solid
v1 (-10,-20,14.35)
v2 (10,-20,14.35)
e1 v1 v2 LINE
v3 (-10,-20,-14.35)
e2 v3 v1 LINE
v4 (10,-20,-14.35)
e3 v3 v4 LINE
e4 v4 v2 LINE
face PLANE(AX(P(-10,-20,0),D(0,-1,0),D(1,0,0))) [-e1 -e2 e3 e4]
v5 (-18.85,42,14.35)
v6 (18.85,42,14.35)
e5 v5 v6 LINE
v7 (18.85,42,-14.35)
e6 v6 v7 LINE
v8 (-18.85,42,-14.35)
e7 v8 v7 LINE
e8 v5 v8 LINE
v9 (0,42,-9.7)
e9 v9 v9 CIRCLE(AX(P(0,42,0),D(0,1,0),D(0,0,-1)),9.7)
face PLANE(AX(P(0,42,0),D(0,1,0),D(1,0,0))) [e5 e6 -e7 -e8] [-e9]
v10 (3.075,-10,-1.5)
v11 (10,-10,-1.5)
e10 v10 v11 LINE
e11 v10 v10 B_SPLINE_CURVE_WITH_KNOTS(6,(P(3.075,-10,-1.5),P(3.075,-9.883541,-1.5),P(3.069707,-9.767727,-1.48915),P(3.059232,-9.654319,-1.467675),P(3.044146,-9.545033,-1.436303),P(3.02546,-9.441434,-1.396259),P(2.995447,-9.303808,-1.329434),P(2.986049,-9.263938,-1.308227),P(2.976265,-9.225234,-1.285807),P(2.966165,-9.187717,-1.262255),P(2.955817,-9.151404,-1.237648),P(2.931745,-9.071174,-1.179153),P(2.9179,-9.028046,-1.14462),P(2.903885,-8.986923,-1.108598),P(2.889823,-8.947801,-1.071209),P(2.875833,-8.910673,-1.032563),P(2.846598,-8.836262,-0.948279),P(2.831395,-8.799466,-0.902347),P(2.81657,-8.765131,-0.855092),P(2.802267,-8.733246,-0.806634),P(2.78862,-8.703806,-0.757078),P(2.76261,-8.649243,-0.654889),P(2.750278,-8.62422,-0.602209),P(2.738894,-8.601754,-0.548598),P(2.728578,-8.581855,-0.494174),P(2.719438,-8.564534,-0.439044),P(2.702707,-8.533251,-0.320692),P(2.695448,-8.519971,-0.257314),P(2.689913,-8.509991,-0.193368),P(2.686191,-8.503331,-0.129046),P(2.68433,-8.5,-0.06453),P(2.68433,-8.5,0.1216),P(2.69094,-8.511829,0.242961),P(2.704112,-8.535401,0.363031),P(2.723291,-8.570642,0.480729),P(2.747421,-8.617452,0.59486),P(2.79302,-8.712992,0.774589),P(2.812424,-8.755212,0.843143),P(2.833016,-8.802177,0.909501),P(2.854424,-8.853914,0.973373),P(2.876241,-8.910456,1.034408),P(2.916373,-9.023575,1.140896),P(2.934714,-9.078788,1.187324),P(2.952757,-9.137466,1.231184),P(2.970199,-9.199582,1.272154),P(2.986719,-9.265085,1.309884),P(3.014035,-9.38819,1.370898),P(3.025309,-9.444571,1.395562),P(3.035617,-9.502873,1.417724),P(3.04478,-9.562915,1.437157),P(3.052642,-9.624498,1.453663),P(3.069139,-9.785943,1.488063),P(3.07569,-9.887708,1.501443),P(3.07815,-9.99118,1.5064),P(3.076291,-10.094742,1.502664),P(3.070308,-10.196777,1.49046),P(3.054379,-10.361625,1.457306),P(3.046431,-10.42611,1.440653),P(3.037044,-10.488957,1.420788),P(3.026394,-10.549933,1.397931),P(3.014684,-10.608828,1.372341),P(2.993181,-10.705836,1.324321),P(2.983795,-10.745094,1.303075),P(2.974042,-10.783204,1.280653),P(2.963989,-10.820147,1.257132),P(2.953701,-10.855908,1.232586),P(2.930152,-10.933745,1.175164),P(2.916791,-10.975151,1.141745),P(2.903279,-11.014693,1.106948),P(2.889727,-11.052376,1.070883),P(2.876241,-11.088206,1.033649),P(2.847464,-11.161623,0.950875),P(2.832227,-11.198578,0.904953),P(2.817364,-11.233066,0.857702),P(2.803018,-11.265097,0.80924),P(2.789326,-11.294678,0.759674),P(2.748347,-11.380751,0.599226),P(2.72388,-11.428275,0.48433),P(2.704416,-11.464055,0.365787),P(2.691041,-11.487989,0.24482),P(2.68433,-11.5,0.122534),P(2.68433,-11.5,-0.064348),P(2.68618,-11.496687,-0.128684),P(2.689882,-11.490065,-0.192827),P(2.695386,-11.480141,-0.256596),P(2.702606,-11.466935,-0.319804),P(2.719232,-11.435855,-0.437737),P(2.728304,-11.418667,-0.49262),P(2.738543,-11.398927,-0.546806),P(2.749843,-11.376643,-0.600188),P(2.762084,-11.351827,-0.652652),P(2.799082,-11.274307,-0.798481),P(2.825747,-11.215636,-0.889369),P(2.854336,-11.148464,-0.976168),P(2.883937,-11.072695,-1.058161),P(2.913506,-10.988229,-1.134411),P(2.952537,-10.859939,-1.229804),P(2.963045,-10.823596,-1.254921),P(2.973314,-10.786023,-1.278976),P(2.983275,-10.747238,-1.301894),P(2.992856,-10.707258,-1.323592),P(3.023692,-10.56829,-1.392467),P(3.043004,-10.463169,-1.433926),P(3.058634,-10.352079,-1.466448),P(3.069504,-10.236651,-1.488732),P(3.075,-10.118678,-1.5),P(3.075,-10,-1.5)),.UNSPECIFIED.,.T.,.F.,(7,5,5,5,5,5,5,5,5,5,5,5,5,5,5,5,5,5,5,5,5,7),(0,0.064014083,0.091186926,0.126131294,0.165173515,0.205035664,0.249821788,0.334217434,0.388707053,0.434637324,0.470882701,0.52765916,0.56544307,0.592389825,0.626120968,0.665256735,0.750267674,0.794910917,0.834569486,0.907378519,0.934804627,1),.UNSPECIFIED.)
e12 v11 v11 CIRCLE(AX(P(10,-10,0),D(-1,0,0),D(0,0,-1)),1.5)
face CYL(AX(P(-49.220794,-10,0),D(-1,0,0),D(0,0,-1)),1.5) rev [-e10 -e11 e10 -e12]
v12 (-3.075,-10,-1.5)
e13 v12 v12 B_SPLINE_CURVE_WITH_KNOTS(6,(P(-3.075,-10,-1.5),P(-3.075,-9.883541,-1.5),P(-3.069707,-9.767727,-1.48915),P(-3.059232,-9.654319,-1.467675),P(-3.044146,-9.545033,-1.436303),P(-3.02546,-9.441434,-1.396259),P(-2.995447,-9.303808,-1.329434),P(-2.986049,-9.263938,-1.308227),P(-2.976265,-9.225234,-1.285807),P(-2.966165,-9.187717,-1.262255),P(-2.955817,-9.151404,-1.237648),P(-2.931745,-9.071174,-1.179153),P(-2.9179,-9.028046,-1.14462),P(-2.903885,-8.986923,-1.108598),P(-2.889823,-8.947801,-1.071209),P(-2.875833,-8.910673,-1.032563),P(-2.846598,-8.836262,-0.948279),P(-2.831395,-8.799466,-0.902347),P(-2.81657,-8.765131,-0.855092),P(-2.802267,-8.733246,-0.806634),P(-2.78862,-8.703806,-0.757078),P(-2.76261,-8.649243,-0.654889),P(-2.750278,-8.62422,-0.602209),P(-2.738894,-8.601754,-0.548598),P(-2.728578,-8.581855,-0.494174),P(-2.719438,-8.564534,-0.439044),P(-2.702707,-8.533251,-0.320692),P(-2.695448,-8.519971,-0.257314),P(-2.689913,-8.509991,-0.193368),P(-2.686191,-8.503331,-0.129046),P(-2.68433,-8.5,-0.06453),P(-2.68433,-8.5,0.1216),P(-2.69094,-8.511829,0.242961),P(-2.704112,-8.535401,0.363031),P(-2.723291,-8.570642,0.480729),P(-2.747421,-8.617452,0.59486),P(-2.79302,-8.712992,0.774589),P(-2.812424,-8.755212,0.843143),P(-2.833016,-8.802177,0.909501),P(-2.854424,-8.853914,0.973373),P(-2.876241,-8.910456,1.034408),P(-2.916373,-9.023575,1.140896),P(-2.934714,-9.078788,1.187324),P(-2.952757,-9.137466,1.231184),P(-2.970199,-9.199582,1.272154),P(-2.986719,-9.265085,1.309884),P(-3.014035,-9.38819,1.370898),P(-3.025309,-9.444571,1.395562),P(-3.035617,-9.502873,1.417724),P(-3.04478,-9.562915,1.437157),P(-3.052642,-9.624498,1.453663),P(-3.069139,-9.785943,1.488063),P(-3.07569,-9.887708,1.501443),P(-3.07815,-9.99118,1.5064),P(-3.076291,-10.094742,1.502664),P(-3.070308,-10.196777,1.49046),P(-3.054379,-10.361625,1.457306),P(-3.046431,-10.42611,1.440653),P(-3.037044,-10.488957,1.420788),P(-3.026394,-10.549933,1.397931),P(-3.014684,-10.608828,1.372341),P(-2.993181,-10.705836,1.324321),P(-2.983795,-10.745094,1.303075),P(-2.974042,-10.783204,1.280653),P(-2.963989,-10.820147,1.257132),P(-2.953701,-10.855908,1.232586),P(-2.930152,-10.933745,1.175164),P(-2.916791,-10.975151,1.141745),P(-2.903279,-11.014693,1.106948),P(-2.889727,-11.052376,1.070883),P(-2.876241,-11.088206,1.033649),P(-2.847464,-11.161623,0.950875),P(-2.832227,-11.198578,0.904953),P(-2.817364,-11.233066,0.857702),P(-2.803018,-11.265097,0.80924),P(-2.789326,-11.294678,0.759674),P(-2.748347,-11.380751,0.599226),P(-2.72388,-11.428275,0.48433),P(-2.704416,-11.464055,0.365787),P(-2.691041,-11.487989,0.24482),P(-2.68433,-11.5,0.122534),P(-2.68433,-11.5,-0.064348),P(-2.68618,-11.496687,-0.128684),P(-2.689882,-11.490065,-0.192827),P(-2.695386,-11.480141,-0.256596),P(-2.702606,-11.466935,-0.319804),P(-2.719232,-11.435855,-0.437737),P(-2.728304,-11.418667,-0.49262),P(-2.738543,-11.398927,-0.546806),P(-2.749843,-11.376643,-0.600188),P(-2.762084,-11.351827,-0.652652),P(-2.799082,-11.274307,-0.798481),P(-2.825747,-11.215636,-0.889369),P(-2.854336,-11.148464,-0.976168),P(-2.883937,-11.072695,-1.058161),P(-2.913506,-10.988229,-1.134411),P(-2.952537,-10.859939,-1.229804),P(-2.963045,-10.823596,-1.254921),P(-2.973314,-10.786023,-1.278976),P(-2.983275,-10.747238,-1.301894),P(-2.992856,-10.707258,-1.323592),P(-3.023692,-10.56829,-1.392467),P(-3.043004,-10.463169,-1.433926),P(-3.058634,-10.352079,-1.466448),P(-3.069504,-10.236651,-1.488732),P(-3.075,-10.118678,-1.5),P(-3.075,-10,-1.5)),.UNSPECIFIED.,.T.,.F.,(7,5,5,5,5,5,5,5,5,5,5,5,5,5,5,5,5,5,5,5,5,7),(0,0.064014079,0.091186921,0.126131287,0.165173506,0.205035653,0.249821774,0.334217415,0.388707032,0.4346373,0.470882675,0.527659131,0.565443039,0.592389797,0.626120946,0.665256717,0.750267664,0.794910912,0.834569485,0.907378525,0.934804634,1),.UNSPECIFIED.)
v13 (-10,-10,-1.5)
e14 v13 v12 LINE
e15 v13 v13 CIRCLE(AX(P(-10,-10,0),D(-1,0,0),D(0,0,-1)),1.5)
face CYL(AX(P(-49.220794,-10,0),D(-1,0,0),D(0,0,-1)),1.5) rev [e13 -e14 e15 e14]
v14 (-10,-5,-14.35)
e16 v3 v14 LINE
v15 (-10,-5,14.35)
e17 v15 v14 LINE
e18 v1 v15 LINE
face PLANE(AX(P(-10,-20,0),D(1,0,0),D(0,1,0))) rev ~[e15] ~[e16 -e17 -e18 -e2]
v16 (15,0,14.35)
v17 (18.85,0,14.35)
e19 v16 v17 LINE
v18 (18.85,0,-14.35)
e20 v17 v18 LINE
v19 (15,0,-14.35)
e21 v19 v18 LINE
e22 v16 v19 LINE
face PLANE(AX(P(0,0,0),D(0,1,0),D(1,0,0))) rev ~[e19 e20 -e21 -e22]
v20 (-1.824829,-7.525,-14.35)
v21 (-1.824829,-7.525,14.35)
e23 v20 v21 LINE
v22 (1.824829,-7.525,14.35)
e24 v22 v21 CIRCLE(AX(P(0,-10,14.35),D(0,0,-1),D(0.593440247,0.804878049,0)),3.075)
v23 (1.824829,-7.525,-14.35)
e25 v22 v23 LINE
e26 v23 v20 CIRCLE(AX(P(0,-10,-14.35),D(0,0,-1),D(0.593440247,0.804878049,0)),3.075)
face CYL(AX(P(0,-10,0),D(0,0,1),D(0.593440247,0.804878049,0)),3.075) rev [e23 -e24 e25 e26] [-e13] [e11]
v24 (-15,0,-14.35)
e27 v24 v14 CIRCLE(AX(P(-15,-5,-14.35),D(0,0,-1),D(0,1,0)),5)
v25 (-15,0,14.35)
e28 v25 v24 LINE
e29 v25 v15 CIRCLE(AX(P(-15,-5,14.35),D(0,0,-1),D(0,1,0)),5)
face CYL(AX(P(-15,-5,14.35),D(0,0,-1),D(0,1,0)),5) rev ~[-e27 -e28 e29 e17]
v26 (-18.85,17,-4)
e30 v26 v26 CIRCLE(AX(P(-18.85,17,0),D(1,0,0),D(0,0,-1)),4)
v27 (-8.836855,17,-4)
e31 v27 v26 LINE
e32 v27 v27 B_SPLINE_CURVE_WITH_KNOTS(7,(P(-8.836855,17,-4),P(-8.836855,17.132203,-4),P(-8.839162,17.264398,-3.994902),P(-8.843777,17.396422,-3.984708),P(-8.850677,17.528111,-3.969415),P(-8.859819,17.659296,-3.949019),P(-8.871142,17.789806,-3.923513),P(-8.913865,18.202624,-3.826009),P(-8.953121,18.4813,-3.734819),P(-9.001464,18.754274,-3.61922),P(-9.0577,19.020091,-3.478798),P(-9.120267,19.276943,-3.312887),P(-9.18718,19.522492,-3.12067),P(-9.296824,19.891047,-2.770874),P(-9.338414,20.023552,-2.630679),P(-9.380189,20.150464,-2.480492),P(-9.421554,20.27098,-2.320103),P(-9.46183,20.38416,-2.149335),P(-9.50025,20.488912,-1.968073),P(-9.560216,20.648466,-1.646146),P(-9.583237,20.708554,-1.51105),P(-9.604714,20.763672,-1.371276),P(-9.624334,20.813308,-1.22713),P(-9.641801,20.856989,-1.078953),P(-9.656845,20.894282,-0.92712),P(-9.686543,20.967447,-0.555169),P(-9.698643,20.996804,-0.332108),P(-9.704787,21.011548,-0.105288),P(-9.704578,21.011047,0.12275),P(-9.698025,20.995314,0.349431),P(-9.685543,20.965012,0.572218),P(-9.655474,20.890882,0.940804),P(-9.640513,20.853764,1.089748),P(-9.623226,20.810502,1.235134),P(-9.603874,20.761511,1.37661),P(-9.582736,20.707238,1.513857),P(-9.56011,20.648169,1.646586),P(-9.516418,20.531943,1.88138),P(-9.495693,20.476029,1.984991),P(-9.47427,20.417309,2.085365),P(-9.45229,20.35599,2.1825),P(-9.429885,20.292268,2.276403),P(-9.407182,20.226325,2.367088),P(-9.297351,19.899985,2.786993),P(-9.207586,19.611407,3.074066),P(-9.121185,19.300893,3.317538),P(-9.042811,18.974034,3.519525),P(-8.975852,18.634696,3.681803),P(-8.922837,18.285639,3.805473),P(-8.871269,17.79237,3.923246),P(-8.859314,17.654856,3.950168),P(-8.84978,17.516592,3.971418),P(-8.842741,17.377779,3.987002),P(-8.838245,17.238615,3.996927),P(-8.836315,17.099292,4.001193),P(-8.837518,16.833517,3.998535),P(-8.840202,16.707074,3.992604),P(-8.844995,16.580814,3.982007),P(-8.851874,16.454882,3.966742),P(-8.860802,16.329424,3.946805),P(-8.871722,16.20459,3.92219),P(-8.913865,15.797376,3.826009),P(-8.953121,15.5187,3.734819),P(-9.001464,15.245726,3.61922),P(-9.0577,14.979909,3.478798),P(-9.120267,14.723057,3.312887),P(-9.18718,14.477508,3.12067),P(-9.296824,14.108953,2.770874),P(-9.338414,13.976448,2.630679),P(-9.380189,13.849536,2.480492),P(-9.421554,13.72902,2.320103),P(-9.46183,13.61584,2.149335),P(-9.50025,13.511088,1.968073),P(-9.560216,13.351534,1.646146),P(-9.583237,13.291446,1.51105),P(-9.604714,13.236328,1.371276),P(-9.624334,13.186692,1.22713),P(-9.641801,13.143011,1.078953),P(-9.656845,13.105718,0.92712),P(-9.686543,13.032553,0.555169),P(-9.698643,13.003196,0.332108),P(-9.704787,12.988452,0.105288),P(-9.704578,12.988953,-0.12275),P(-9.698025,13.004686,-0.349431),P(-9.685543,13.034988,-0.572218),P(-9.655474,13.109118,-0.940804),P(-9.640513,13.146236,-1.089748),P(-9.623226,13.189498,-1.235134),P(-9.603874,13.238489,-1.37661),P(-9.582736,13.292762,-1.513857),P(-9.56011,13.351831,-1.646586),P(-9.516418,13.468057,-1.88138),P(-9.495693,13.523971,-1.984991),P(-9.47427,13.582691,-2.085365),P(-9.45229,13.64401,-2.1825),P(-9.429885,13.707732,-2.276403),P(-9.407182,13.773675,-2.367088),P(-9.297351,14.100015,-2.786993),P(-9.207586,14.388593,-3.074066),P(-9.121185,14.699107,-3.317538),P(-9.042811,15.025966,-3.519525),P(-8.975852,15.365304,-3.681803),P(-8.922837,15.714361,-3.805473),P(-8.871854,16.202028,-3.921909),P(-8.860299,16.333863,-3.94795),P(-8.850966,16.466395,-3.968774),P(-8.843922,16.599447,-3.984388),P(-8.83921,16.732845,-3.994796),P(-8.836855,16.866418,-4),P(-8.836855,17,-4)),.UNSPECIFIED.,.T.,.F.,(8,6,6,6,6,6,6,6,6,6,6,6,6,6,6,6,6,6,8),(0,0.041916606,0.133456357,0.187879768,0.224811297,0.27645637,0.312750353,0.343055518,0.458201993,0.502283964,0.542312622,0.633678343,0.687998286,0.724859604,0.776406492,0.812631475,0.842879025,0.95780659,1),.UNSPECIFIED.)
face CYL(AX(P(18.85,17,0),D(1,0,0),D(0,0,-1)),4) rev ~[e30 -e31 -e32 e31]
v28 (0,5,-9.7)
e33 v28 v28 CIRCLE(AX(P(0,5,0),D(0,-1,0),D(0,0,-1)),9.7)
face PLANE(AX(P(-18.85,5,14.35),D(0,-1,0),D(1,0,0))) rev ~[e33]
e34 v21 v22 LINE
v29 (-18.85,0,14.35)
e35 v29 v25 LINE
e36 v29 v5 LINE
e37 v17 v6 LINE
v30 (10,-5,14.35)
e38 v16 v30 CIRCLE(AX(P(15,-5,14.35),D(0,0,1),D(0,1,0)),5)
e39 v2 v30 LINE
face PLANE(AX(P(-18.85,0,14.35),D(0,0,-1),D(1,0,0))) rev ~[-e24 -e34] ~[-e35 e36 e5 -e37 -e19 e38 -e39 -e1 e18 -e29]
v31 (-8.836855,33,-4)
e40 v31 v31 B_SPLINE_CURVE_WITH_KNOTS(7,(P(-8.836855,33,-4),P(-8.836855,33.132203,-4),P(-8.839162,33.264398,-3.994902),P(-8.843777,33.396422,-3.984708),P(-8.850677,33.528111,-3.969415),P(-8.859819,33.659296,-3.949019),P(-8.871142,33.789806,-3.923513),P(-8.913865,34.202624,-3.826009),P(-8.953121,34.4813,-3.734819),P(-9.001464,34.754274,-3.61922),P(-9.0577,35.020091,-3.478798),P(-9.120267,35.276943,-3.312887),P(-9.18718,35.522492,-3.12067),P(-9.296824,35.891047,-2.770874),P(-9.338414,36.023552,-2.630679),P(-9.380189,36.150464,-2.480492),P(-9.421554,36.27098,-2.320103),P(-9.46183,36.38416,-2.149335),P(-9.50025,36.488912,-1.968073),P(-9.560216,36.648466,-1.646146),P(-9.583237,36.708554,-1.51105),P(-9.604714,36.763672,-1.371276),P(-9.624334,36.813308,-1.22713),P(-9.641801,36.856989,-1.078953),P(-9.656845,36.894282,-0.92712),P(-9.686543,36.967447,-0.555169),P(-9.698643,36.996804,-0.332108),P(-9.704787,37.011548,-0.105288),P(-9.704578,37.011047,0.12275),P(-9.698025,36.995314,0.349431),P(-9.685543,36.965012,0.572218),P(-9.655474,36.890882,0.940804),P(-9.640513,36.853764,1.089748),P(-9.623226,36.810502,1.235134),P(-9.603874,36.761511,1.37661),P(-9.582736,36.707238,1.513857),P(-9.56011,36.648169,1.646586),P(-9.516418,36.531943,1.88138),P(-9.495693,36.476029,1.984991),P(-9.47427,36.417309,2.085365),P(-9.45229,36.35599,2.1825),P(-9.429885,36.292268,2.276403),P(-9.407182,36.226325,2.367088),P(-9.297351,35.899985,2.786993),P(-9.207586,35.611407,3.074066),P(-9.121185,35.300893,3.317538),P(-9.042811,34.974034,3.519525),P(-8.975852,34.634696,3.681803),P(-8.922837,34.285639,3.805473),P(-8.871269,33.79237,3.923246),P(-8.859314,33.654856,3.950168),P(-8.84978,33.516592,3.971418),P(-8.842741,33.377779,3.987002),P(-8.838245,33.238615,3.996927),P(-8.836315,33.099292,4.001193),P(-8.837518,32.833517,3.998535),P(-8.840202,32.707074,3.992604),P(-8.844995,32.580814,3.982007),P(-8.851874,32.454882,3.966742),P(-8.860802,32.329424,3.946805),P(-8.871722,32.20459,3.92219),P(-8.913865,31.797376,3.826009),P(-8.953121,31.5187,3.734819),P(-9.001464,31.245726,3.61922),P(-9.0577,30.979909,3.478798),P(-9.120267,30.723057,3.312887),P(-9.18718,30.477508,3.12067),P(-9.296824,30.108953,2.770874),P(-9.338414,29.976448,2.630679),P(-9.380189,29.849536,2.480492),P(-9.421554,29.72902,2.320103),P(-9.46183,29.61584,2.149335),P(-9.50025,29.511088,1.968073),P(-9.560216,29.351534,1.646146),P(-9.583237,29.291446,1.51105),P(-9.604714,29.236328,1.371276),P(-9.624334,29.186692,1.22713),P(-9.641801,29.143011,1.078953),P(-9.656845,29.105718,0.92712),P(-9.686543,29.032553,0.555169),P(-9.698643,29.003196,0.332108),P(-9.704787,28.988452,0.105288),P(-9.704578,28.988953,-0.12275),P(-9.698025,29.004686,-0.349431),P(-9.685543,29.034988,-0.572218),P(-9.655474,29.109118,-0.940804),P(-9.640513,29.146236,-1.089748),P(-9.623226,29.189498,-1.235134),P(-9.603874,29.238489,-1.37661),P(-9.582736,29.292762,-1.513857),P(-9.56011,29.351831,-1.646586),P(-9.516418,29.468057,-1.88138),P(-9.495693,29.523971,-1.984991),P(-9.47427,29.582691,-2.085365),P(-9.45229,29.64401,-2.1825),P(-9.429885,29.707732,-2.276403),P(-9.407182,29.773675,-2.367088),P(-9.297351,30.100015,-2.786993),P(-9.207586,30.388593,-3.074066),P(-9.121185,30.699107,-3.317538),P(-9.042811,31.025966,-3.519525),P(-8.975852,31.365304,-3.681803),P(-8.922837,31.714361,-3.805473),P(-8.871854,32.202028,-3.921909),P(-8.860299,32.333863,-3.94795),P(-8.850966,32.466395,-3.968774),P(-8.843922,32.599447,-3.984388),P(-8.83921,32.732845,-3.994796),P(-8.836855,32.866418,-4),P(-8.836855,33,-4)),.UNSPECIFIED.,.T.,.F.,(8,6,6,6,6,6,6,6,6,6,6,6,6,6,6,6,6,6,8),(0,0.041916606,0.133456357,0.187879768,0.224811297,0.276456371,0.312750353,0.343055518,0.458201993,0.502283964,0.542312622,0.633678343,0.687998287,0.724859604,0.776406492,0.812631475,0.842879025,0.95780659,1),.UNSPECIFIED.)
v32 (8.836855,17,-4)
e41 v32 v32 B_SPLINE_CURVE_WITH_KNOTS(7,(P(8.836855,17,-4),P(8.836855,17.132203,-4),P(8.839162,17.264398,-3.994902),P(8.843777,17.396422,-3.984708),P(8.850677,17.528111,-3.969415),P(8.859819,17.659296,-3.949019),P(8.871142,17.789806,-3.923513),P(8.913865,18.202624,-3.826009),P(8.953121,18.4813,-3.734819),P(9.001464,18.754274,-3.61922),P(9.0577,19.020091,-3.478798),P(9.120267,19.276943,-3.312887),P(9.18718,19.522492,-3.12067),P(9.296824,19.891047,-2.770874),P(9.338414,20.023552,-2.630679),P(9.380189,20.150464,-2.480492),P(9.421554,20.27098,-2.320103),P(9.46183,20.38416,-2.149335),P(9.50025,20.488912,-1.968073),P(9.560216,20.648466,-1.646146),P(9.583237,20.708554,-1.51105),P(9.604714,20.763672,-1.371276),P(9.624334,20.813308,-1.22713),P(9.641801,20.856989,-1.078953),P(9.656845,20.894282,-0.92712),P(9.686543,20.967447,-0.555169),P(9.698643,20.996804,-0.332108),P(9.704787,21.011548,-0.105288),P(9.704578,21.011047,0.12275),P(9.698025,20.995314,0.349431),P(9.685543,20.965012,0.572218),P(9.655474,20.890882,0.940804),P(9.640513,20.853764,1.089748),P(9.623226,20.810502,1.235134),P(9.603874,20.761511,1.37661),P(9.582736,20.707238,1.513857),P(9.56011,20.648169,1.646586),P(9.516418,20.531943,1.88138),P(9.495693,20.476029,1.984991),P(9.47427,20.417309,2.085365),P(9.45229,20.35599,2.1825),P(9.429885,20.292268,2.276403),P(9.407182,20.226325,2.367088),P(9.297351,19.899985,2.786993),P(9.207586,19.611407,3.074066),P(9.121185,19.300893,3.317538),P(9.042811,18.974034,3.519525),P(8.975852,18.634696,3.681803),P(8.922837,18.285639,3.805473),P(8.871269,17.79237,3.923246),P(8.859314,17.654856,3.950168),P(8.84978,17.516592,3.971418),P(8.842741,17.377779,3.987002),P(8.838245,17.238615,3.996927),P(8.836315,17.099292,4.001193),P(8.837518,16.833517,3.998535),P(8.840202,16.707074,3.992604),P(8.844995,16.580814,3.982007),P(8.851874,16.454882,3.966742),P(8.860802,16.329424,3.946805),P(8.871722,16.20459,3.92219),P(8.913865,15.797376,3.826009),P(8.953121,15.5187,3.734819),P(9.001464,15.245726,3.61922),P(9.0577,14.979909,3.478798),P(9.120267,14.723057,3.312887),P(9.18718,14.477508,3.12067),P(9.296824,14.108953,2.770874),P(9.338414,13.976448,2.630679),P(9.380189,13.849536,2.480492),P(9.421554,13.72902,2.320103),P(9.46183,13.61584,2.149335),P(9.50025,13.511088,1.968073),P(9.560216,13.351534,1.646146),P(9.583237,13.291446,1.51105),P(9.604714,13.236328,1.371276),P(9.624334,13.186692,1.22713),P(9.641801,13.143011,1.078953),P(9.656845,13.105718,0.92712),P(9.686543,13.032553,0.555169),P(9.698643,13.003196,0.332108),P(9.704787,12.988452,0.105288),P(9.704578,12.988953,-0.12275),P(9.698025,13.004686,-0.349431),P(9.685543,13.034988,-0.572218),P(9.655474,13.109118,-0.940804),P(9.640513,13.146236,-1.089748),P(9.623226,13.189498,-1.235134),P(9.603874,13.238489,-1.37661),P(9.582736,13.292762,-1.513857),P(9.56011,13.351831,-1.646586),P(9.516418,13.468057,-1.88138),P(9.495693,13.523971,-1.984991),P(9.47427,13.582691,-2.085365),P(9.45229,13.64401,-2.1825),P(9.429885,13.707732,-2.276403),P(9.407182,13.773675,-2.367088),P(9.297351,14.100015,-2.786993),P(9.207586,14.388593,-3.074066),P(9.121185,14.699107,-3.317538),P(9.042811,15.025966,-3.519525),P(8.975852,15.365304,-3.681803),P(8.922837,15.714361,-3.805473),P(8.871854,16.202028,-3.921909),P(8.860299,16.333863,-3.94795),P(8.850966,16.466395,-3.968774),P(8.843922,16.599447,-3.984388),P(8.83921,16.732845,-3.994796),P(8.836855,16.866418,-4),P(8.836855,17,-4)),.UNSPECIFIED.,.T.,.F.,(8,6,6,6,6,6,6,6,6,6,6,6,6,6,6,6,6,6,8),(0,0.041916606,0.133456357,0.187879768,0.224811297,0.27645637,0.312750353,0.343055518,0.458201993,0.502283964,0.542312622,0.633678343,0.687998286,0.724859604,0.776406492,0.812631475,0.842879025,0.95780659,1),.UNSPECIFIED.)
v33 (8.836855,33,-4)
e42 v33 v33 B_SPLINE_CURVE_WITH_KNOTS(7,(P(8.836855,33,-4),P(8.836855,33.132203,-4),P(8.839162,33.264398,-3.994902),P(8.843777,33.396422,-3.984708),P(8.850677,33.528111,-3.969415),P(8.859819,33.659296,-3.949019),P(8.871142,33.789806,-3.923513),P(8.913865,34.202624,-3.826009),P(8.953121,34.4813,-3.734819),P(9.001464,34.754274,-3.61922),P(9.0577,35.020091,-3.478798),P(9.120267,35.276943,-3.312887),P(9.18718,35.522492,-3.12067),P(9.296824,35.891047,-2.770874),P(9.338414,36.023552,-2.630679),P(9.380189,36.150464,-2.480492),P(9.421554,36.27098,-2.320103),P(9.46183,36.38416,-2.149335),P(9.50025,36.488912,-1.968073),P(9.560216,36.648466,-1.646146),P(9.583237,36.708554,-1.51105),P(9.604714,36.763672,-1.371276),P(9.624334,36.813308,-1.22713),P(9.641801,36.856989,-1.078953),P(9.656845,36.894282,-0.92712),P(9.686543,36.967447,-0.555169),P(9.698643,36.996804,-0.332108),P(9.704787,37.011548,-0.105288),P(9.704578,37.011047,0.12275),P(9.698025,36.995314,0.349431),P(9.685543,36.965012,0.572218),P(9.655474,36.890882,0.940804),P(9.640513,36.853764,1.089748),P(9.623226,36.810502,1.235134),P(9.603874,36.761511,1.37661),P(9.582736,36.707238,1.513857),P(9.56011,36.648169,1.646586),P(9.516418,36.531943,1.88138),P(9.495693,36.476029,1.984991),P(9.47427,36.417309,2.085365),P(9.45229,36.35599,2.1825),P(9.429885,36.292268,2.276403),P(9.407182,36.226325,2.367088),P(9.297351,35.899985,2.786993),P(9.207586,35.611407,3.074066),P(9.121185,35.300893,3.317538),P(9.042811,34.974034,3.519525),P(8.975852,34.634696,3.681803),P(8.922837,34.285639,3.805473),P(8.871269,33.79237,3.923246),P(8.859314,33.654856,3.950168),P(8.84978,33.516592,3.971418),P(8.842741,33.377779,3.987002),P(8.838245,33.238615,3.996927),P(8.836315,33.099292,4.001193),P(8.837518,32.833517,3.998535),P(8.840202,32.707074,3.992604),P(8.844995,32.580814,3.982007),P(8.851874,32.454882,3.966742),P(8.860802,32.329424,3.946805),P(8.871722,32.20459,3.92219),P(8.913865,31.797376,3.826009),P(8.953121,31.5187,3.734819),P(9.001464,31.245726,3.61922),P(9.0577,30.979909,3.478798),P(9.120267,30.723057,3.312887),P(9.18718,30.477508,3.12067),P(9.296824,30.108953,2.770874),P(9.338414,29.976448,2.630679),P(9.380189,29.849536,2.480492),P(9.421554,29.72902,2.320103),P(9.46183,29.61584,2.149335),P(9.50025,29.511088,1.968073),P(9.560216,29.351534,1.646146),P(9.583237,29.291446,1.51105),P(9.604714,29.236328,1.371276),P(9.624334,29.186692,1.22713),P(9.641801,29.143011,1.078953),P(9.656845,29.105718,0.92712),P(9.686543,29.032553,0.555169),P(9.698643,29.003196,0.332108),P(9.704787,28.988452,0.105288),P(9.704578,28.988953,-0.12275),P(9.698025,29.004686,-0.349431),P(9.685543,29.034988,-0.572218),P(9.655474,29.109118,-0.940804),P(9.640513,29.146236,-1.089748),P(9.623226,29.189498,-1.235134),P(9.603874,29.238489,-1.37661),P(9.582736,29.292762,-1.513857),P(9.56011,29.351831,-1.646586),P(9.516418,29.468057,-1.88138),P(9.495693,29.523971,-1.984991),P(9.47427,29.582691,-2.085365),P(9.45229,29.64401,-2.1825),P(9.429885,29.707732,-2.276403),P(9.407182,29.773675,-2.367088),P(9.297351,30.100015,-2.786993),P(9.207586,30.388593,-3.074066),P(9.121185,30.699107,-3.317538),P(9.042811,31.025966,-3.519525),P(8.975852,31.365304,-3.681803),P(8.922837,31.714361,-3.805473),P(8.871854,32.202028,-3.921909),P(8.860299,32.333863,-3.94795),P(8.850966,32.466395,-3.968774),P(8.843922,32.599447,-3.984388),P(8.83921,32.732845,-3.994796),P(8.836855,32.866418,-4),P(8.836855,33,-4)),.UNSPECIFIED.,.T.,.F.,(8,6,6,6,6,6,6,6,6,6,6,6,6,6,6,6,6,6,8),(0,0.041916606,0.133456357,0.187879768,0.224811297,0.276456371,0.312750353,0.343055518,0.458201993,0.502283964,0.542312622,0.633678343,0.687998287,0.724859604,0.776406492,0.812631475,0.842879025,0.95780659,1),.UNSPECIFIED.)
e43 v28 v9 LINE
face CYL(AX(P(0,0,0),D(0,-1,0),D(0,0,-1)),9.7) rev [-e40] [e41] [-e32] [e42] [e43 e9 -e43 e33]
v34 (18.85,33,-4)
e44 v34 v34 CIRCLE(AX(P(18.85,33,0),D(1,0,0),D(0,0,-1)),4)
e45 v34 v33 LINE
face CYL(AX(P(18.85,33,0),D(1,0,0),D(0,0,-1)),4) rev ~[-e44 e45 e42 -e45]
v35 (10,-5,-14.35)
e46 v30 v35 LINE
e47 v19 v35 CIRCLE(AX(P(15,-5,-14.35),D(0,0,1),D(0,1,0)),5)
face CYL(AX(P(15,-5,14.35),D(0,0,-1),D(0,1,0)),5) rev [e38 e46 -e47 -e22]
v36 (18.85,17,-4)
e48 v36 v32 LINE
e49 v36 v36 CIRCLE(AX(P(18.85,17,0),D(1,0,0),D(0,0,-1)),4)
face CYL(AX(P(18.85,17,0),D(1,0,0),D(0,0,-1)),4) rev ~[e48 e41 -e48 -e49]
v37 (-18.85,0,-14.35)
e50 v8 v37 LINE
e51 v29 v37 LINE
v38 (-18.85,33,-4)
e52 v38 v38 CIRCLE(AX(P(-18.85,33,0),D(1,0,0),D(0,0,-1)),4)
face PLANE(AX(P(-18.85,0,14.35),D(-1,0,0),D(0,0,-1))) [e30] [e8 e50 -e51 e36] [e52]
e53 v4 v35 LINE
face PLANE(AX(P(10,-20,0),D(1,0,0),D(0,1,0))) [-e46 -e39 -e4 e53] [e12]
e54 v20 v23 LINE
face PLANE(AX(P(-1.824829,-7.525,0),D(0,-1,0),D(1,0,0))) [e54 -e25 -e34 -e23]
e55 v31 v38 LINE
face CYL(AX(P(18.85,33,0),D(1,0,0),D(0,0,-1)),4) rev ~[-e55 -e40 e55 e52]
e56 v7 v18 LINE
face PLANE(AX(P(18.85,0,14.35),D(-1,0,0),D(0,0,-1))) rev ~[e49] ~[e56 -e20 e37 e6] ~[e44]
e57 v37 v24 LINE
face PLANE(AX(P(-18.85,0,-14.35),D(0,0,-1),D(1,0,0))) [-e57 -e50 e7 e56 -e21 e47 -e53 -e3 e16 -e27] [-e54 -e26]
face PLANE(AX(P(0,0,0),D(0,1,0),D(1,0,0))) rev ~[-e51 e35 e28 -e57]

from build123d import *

# Parameters (mm, degrees)
SKETCH11_W              = 37.7
SKETCH11_H              = 28.7
SKETCH11_R              = 9.7
BOSS_EXTRUDE1_DEPTH     = 42
BOSS_EXTRUDE3_REACH     = 56.25
SKETCH15_W              = 37.7
SKETCH15_H              = 5
SKETCH12_R              = 4
CUT_EXTRUDE1_DEPTH      = 40
SKETCH23_W              = 20
SKETCH23_H              = 20
BOSS_EXTRUDE4_DEPTH     = 14.35
CUT_EXTRUDE2_DEPTH      = 49.220794396
CUT_EXTRUDE2_DEPTH_BACK = 49.220794396
SKETCH24_R              = 1.5
FILLET1_R               = 5


with BuildPart() as part:
    # Sketch11 → Boss-Extrude1 (new body)
    with BuildSketch(Plane(origin=(0, 0, 0), x_dir=(1, 0, 0), z_dir=(0, 1, 0))):
        Rectangle(SKETCH11_W, SKETCH11_H)
        with Locations(Location((0, 0, 0), (0, 0, 90))):
            Circle(SKETCH11_R, mode=Mode.SUBTRACT)
    extrude(amount=BOSS_EXTRUDE1_DEPTH)

    # Boss-Extrude3: up to this face of the body (flat: up to its plane)
    boss_extrude3_end = Plane(part.part.faces().sort_by_distance((0, 21, -14.35))[0])
    # Sketch15 → Boss-Extrude3 (add, up to the picked face)
    with BuildSketch(Plane.XY.offset(14.35), mode=Mode.PRIVATE) as boss_extrude3_sk1:
        with Locations((0, 2.5)):
            Rectangle(SKETCH15_W, SKETCH15_H)
    boss_extrude3_tool1 = split(extrude(boss_extrude3_sk1.sketch, amount=-BOSS_EXTRUDE3_REACH, mode=Mode.PRIVATE), bisect_by=boss_extrude3_end, keep=Keep.BOTH, mode=Mode.PRIVATE)
    add(boss_extrude3_tool1.solids().sort_by(Axis((0, 2.5, 14.35), (0, 0, -1)))[0])

    # Sketch12 → Cut-Extrude1 (cut)
    with BuildSketch(Plane(origin=(18.85, 0, 0), x_dir=(0, 0, -1), z_dir=(1, 0, 0))):
        with Locations((0, 33)):
            Circle(SKETCH12_R)
        with Locations((0, 17)):
            Circle(SKETCH12_R)
    extrude(amount=-CUT_EXTRUDE1_DEPTH, mode=Mode.SUBTRACT)

    # Sketch23 → Boss-Extrude4 (add, symmetric)
    with BuildSketch(Plane.XY):
        with Locations((0, -10)):
            Rectangle(SKETCH23_W, SKETCH23_H)
        with BuildLine():
            Line((-1.824828759, -7.525), (1.824828759, -7.525))
            ThreePointArc((1.824828759, -7.525), (0, -13.075), (-1.824828759, -7.525))
        make_face(mode=Mode.SUBTRACT)
    extrude(amount=BOSS_EXTRUDE4_DEPTH, both=True)

    # Sketch24 → Cut-Extrude2 (cut, two sides: drawn at the far end of the back side and taken through both)
    with BuildSketch(Plane(origin=(0, 0, 0), x_dir=(0, 0, -1), z_dir=(1, 0, 0)).offset(-CUT_EXTRUDE2_DEPTH_BACK)):
        with Locations((0, -10)):
            Circle(SKETCH24_R)
    extrude(amount=CUT_EXTRUDE2_DEPTH + CUT_EXTRUDE2_DEPTH_BACK, mode=Mode.SUBTRACT)

    # Fillet1
    fillet1_edges = [part.edges().sort_by_distance(p)[0] for p in [
        (10, 0, 0),
        (-10, 0, 0),
    ]]
    fillet(fillet1_edges, radius=FILLET1_R)


solid = part.part
